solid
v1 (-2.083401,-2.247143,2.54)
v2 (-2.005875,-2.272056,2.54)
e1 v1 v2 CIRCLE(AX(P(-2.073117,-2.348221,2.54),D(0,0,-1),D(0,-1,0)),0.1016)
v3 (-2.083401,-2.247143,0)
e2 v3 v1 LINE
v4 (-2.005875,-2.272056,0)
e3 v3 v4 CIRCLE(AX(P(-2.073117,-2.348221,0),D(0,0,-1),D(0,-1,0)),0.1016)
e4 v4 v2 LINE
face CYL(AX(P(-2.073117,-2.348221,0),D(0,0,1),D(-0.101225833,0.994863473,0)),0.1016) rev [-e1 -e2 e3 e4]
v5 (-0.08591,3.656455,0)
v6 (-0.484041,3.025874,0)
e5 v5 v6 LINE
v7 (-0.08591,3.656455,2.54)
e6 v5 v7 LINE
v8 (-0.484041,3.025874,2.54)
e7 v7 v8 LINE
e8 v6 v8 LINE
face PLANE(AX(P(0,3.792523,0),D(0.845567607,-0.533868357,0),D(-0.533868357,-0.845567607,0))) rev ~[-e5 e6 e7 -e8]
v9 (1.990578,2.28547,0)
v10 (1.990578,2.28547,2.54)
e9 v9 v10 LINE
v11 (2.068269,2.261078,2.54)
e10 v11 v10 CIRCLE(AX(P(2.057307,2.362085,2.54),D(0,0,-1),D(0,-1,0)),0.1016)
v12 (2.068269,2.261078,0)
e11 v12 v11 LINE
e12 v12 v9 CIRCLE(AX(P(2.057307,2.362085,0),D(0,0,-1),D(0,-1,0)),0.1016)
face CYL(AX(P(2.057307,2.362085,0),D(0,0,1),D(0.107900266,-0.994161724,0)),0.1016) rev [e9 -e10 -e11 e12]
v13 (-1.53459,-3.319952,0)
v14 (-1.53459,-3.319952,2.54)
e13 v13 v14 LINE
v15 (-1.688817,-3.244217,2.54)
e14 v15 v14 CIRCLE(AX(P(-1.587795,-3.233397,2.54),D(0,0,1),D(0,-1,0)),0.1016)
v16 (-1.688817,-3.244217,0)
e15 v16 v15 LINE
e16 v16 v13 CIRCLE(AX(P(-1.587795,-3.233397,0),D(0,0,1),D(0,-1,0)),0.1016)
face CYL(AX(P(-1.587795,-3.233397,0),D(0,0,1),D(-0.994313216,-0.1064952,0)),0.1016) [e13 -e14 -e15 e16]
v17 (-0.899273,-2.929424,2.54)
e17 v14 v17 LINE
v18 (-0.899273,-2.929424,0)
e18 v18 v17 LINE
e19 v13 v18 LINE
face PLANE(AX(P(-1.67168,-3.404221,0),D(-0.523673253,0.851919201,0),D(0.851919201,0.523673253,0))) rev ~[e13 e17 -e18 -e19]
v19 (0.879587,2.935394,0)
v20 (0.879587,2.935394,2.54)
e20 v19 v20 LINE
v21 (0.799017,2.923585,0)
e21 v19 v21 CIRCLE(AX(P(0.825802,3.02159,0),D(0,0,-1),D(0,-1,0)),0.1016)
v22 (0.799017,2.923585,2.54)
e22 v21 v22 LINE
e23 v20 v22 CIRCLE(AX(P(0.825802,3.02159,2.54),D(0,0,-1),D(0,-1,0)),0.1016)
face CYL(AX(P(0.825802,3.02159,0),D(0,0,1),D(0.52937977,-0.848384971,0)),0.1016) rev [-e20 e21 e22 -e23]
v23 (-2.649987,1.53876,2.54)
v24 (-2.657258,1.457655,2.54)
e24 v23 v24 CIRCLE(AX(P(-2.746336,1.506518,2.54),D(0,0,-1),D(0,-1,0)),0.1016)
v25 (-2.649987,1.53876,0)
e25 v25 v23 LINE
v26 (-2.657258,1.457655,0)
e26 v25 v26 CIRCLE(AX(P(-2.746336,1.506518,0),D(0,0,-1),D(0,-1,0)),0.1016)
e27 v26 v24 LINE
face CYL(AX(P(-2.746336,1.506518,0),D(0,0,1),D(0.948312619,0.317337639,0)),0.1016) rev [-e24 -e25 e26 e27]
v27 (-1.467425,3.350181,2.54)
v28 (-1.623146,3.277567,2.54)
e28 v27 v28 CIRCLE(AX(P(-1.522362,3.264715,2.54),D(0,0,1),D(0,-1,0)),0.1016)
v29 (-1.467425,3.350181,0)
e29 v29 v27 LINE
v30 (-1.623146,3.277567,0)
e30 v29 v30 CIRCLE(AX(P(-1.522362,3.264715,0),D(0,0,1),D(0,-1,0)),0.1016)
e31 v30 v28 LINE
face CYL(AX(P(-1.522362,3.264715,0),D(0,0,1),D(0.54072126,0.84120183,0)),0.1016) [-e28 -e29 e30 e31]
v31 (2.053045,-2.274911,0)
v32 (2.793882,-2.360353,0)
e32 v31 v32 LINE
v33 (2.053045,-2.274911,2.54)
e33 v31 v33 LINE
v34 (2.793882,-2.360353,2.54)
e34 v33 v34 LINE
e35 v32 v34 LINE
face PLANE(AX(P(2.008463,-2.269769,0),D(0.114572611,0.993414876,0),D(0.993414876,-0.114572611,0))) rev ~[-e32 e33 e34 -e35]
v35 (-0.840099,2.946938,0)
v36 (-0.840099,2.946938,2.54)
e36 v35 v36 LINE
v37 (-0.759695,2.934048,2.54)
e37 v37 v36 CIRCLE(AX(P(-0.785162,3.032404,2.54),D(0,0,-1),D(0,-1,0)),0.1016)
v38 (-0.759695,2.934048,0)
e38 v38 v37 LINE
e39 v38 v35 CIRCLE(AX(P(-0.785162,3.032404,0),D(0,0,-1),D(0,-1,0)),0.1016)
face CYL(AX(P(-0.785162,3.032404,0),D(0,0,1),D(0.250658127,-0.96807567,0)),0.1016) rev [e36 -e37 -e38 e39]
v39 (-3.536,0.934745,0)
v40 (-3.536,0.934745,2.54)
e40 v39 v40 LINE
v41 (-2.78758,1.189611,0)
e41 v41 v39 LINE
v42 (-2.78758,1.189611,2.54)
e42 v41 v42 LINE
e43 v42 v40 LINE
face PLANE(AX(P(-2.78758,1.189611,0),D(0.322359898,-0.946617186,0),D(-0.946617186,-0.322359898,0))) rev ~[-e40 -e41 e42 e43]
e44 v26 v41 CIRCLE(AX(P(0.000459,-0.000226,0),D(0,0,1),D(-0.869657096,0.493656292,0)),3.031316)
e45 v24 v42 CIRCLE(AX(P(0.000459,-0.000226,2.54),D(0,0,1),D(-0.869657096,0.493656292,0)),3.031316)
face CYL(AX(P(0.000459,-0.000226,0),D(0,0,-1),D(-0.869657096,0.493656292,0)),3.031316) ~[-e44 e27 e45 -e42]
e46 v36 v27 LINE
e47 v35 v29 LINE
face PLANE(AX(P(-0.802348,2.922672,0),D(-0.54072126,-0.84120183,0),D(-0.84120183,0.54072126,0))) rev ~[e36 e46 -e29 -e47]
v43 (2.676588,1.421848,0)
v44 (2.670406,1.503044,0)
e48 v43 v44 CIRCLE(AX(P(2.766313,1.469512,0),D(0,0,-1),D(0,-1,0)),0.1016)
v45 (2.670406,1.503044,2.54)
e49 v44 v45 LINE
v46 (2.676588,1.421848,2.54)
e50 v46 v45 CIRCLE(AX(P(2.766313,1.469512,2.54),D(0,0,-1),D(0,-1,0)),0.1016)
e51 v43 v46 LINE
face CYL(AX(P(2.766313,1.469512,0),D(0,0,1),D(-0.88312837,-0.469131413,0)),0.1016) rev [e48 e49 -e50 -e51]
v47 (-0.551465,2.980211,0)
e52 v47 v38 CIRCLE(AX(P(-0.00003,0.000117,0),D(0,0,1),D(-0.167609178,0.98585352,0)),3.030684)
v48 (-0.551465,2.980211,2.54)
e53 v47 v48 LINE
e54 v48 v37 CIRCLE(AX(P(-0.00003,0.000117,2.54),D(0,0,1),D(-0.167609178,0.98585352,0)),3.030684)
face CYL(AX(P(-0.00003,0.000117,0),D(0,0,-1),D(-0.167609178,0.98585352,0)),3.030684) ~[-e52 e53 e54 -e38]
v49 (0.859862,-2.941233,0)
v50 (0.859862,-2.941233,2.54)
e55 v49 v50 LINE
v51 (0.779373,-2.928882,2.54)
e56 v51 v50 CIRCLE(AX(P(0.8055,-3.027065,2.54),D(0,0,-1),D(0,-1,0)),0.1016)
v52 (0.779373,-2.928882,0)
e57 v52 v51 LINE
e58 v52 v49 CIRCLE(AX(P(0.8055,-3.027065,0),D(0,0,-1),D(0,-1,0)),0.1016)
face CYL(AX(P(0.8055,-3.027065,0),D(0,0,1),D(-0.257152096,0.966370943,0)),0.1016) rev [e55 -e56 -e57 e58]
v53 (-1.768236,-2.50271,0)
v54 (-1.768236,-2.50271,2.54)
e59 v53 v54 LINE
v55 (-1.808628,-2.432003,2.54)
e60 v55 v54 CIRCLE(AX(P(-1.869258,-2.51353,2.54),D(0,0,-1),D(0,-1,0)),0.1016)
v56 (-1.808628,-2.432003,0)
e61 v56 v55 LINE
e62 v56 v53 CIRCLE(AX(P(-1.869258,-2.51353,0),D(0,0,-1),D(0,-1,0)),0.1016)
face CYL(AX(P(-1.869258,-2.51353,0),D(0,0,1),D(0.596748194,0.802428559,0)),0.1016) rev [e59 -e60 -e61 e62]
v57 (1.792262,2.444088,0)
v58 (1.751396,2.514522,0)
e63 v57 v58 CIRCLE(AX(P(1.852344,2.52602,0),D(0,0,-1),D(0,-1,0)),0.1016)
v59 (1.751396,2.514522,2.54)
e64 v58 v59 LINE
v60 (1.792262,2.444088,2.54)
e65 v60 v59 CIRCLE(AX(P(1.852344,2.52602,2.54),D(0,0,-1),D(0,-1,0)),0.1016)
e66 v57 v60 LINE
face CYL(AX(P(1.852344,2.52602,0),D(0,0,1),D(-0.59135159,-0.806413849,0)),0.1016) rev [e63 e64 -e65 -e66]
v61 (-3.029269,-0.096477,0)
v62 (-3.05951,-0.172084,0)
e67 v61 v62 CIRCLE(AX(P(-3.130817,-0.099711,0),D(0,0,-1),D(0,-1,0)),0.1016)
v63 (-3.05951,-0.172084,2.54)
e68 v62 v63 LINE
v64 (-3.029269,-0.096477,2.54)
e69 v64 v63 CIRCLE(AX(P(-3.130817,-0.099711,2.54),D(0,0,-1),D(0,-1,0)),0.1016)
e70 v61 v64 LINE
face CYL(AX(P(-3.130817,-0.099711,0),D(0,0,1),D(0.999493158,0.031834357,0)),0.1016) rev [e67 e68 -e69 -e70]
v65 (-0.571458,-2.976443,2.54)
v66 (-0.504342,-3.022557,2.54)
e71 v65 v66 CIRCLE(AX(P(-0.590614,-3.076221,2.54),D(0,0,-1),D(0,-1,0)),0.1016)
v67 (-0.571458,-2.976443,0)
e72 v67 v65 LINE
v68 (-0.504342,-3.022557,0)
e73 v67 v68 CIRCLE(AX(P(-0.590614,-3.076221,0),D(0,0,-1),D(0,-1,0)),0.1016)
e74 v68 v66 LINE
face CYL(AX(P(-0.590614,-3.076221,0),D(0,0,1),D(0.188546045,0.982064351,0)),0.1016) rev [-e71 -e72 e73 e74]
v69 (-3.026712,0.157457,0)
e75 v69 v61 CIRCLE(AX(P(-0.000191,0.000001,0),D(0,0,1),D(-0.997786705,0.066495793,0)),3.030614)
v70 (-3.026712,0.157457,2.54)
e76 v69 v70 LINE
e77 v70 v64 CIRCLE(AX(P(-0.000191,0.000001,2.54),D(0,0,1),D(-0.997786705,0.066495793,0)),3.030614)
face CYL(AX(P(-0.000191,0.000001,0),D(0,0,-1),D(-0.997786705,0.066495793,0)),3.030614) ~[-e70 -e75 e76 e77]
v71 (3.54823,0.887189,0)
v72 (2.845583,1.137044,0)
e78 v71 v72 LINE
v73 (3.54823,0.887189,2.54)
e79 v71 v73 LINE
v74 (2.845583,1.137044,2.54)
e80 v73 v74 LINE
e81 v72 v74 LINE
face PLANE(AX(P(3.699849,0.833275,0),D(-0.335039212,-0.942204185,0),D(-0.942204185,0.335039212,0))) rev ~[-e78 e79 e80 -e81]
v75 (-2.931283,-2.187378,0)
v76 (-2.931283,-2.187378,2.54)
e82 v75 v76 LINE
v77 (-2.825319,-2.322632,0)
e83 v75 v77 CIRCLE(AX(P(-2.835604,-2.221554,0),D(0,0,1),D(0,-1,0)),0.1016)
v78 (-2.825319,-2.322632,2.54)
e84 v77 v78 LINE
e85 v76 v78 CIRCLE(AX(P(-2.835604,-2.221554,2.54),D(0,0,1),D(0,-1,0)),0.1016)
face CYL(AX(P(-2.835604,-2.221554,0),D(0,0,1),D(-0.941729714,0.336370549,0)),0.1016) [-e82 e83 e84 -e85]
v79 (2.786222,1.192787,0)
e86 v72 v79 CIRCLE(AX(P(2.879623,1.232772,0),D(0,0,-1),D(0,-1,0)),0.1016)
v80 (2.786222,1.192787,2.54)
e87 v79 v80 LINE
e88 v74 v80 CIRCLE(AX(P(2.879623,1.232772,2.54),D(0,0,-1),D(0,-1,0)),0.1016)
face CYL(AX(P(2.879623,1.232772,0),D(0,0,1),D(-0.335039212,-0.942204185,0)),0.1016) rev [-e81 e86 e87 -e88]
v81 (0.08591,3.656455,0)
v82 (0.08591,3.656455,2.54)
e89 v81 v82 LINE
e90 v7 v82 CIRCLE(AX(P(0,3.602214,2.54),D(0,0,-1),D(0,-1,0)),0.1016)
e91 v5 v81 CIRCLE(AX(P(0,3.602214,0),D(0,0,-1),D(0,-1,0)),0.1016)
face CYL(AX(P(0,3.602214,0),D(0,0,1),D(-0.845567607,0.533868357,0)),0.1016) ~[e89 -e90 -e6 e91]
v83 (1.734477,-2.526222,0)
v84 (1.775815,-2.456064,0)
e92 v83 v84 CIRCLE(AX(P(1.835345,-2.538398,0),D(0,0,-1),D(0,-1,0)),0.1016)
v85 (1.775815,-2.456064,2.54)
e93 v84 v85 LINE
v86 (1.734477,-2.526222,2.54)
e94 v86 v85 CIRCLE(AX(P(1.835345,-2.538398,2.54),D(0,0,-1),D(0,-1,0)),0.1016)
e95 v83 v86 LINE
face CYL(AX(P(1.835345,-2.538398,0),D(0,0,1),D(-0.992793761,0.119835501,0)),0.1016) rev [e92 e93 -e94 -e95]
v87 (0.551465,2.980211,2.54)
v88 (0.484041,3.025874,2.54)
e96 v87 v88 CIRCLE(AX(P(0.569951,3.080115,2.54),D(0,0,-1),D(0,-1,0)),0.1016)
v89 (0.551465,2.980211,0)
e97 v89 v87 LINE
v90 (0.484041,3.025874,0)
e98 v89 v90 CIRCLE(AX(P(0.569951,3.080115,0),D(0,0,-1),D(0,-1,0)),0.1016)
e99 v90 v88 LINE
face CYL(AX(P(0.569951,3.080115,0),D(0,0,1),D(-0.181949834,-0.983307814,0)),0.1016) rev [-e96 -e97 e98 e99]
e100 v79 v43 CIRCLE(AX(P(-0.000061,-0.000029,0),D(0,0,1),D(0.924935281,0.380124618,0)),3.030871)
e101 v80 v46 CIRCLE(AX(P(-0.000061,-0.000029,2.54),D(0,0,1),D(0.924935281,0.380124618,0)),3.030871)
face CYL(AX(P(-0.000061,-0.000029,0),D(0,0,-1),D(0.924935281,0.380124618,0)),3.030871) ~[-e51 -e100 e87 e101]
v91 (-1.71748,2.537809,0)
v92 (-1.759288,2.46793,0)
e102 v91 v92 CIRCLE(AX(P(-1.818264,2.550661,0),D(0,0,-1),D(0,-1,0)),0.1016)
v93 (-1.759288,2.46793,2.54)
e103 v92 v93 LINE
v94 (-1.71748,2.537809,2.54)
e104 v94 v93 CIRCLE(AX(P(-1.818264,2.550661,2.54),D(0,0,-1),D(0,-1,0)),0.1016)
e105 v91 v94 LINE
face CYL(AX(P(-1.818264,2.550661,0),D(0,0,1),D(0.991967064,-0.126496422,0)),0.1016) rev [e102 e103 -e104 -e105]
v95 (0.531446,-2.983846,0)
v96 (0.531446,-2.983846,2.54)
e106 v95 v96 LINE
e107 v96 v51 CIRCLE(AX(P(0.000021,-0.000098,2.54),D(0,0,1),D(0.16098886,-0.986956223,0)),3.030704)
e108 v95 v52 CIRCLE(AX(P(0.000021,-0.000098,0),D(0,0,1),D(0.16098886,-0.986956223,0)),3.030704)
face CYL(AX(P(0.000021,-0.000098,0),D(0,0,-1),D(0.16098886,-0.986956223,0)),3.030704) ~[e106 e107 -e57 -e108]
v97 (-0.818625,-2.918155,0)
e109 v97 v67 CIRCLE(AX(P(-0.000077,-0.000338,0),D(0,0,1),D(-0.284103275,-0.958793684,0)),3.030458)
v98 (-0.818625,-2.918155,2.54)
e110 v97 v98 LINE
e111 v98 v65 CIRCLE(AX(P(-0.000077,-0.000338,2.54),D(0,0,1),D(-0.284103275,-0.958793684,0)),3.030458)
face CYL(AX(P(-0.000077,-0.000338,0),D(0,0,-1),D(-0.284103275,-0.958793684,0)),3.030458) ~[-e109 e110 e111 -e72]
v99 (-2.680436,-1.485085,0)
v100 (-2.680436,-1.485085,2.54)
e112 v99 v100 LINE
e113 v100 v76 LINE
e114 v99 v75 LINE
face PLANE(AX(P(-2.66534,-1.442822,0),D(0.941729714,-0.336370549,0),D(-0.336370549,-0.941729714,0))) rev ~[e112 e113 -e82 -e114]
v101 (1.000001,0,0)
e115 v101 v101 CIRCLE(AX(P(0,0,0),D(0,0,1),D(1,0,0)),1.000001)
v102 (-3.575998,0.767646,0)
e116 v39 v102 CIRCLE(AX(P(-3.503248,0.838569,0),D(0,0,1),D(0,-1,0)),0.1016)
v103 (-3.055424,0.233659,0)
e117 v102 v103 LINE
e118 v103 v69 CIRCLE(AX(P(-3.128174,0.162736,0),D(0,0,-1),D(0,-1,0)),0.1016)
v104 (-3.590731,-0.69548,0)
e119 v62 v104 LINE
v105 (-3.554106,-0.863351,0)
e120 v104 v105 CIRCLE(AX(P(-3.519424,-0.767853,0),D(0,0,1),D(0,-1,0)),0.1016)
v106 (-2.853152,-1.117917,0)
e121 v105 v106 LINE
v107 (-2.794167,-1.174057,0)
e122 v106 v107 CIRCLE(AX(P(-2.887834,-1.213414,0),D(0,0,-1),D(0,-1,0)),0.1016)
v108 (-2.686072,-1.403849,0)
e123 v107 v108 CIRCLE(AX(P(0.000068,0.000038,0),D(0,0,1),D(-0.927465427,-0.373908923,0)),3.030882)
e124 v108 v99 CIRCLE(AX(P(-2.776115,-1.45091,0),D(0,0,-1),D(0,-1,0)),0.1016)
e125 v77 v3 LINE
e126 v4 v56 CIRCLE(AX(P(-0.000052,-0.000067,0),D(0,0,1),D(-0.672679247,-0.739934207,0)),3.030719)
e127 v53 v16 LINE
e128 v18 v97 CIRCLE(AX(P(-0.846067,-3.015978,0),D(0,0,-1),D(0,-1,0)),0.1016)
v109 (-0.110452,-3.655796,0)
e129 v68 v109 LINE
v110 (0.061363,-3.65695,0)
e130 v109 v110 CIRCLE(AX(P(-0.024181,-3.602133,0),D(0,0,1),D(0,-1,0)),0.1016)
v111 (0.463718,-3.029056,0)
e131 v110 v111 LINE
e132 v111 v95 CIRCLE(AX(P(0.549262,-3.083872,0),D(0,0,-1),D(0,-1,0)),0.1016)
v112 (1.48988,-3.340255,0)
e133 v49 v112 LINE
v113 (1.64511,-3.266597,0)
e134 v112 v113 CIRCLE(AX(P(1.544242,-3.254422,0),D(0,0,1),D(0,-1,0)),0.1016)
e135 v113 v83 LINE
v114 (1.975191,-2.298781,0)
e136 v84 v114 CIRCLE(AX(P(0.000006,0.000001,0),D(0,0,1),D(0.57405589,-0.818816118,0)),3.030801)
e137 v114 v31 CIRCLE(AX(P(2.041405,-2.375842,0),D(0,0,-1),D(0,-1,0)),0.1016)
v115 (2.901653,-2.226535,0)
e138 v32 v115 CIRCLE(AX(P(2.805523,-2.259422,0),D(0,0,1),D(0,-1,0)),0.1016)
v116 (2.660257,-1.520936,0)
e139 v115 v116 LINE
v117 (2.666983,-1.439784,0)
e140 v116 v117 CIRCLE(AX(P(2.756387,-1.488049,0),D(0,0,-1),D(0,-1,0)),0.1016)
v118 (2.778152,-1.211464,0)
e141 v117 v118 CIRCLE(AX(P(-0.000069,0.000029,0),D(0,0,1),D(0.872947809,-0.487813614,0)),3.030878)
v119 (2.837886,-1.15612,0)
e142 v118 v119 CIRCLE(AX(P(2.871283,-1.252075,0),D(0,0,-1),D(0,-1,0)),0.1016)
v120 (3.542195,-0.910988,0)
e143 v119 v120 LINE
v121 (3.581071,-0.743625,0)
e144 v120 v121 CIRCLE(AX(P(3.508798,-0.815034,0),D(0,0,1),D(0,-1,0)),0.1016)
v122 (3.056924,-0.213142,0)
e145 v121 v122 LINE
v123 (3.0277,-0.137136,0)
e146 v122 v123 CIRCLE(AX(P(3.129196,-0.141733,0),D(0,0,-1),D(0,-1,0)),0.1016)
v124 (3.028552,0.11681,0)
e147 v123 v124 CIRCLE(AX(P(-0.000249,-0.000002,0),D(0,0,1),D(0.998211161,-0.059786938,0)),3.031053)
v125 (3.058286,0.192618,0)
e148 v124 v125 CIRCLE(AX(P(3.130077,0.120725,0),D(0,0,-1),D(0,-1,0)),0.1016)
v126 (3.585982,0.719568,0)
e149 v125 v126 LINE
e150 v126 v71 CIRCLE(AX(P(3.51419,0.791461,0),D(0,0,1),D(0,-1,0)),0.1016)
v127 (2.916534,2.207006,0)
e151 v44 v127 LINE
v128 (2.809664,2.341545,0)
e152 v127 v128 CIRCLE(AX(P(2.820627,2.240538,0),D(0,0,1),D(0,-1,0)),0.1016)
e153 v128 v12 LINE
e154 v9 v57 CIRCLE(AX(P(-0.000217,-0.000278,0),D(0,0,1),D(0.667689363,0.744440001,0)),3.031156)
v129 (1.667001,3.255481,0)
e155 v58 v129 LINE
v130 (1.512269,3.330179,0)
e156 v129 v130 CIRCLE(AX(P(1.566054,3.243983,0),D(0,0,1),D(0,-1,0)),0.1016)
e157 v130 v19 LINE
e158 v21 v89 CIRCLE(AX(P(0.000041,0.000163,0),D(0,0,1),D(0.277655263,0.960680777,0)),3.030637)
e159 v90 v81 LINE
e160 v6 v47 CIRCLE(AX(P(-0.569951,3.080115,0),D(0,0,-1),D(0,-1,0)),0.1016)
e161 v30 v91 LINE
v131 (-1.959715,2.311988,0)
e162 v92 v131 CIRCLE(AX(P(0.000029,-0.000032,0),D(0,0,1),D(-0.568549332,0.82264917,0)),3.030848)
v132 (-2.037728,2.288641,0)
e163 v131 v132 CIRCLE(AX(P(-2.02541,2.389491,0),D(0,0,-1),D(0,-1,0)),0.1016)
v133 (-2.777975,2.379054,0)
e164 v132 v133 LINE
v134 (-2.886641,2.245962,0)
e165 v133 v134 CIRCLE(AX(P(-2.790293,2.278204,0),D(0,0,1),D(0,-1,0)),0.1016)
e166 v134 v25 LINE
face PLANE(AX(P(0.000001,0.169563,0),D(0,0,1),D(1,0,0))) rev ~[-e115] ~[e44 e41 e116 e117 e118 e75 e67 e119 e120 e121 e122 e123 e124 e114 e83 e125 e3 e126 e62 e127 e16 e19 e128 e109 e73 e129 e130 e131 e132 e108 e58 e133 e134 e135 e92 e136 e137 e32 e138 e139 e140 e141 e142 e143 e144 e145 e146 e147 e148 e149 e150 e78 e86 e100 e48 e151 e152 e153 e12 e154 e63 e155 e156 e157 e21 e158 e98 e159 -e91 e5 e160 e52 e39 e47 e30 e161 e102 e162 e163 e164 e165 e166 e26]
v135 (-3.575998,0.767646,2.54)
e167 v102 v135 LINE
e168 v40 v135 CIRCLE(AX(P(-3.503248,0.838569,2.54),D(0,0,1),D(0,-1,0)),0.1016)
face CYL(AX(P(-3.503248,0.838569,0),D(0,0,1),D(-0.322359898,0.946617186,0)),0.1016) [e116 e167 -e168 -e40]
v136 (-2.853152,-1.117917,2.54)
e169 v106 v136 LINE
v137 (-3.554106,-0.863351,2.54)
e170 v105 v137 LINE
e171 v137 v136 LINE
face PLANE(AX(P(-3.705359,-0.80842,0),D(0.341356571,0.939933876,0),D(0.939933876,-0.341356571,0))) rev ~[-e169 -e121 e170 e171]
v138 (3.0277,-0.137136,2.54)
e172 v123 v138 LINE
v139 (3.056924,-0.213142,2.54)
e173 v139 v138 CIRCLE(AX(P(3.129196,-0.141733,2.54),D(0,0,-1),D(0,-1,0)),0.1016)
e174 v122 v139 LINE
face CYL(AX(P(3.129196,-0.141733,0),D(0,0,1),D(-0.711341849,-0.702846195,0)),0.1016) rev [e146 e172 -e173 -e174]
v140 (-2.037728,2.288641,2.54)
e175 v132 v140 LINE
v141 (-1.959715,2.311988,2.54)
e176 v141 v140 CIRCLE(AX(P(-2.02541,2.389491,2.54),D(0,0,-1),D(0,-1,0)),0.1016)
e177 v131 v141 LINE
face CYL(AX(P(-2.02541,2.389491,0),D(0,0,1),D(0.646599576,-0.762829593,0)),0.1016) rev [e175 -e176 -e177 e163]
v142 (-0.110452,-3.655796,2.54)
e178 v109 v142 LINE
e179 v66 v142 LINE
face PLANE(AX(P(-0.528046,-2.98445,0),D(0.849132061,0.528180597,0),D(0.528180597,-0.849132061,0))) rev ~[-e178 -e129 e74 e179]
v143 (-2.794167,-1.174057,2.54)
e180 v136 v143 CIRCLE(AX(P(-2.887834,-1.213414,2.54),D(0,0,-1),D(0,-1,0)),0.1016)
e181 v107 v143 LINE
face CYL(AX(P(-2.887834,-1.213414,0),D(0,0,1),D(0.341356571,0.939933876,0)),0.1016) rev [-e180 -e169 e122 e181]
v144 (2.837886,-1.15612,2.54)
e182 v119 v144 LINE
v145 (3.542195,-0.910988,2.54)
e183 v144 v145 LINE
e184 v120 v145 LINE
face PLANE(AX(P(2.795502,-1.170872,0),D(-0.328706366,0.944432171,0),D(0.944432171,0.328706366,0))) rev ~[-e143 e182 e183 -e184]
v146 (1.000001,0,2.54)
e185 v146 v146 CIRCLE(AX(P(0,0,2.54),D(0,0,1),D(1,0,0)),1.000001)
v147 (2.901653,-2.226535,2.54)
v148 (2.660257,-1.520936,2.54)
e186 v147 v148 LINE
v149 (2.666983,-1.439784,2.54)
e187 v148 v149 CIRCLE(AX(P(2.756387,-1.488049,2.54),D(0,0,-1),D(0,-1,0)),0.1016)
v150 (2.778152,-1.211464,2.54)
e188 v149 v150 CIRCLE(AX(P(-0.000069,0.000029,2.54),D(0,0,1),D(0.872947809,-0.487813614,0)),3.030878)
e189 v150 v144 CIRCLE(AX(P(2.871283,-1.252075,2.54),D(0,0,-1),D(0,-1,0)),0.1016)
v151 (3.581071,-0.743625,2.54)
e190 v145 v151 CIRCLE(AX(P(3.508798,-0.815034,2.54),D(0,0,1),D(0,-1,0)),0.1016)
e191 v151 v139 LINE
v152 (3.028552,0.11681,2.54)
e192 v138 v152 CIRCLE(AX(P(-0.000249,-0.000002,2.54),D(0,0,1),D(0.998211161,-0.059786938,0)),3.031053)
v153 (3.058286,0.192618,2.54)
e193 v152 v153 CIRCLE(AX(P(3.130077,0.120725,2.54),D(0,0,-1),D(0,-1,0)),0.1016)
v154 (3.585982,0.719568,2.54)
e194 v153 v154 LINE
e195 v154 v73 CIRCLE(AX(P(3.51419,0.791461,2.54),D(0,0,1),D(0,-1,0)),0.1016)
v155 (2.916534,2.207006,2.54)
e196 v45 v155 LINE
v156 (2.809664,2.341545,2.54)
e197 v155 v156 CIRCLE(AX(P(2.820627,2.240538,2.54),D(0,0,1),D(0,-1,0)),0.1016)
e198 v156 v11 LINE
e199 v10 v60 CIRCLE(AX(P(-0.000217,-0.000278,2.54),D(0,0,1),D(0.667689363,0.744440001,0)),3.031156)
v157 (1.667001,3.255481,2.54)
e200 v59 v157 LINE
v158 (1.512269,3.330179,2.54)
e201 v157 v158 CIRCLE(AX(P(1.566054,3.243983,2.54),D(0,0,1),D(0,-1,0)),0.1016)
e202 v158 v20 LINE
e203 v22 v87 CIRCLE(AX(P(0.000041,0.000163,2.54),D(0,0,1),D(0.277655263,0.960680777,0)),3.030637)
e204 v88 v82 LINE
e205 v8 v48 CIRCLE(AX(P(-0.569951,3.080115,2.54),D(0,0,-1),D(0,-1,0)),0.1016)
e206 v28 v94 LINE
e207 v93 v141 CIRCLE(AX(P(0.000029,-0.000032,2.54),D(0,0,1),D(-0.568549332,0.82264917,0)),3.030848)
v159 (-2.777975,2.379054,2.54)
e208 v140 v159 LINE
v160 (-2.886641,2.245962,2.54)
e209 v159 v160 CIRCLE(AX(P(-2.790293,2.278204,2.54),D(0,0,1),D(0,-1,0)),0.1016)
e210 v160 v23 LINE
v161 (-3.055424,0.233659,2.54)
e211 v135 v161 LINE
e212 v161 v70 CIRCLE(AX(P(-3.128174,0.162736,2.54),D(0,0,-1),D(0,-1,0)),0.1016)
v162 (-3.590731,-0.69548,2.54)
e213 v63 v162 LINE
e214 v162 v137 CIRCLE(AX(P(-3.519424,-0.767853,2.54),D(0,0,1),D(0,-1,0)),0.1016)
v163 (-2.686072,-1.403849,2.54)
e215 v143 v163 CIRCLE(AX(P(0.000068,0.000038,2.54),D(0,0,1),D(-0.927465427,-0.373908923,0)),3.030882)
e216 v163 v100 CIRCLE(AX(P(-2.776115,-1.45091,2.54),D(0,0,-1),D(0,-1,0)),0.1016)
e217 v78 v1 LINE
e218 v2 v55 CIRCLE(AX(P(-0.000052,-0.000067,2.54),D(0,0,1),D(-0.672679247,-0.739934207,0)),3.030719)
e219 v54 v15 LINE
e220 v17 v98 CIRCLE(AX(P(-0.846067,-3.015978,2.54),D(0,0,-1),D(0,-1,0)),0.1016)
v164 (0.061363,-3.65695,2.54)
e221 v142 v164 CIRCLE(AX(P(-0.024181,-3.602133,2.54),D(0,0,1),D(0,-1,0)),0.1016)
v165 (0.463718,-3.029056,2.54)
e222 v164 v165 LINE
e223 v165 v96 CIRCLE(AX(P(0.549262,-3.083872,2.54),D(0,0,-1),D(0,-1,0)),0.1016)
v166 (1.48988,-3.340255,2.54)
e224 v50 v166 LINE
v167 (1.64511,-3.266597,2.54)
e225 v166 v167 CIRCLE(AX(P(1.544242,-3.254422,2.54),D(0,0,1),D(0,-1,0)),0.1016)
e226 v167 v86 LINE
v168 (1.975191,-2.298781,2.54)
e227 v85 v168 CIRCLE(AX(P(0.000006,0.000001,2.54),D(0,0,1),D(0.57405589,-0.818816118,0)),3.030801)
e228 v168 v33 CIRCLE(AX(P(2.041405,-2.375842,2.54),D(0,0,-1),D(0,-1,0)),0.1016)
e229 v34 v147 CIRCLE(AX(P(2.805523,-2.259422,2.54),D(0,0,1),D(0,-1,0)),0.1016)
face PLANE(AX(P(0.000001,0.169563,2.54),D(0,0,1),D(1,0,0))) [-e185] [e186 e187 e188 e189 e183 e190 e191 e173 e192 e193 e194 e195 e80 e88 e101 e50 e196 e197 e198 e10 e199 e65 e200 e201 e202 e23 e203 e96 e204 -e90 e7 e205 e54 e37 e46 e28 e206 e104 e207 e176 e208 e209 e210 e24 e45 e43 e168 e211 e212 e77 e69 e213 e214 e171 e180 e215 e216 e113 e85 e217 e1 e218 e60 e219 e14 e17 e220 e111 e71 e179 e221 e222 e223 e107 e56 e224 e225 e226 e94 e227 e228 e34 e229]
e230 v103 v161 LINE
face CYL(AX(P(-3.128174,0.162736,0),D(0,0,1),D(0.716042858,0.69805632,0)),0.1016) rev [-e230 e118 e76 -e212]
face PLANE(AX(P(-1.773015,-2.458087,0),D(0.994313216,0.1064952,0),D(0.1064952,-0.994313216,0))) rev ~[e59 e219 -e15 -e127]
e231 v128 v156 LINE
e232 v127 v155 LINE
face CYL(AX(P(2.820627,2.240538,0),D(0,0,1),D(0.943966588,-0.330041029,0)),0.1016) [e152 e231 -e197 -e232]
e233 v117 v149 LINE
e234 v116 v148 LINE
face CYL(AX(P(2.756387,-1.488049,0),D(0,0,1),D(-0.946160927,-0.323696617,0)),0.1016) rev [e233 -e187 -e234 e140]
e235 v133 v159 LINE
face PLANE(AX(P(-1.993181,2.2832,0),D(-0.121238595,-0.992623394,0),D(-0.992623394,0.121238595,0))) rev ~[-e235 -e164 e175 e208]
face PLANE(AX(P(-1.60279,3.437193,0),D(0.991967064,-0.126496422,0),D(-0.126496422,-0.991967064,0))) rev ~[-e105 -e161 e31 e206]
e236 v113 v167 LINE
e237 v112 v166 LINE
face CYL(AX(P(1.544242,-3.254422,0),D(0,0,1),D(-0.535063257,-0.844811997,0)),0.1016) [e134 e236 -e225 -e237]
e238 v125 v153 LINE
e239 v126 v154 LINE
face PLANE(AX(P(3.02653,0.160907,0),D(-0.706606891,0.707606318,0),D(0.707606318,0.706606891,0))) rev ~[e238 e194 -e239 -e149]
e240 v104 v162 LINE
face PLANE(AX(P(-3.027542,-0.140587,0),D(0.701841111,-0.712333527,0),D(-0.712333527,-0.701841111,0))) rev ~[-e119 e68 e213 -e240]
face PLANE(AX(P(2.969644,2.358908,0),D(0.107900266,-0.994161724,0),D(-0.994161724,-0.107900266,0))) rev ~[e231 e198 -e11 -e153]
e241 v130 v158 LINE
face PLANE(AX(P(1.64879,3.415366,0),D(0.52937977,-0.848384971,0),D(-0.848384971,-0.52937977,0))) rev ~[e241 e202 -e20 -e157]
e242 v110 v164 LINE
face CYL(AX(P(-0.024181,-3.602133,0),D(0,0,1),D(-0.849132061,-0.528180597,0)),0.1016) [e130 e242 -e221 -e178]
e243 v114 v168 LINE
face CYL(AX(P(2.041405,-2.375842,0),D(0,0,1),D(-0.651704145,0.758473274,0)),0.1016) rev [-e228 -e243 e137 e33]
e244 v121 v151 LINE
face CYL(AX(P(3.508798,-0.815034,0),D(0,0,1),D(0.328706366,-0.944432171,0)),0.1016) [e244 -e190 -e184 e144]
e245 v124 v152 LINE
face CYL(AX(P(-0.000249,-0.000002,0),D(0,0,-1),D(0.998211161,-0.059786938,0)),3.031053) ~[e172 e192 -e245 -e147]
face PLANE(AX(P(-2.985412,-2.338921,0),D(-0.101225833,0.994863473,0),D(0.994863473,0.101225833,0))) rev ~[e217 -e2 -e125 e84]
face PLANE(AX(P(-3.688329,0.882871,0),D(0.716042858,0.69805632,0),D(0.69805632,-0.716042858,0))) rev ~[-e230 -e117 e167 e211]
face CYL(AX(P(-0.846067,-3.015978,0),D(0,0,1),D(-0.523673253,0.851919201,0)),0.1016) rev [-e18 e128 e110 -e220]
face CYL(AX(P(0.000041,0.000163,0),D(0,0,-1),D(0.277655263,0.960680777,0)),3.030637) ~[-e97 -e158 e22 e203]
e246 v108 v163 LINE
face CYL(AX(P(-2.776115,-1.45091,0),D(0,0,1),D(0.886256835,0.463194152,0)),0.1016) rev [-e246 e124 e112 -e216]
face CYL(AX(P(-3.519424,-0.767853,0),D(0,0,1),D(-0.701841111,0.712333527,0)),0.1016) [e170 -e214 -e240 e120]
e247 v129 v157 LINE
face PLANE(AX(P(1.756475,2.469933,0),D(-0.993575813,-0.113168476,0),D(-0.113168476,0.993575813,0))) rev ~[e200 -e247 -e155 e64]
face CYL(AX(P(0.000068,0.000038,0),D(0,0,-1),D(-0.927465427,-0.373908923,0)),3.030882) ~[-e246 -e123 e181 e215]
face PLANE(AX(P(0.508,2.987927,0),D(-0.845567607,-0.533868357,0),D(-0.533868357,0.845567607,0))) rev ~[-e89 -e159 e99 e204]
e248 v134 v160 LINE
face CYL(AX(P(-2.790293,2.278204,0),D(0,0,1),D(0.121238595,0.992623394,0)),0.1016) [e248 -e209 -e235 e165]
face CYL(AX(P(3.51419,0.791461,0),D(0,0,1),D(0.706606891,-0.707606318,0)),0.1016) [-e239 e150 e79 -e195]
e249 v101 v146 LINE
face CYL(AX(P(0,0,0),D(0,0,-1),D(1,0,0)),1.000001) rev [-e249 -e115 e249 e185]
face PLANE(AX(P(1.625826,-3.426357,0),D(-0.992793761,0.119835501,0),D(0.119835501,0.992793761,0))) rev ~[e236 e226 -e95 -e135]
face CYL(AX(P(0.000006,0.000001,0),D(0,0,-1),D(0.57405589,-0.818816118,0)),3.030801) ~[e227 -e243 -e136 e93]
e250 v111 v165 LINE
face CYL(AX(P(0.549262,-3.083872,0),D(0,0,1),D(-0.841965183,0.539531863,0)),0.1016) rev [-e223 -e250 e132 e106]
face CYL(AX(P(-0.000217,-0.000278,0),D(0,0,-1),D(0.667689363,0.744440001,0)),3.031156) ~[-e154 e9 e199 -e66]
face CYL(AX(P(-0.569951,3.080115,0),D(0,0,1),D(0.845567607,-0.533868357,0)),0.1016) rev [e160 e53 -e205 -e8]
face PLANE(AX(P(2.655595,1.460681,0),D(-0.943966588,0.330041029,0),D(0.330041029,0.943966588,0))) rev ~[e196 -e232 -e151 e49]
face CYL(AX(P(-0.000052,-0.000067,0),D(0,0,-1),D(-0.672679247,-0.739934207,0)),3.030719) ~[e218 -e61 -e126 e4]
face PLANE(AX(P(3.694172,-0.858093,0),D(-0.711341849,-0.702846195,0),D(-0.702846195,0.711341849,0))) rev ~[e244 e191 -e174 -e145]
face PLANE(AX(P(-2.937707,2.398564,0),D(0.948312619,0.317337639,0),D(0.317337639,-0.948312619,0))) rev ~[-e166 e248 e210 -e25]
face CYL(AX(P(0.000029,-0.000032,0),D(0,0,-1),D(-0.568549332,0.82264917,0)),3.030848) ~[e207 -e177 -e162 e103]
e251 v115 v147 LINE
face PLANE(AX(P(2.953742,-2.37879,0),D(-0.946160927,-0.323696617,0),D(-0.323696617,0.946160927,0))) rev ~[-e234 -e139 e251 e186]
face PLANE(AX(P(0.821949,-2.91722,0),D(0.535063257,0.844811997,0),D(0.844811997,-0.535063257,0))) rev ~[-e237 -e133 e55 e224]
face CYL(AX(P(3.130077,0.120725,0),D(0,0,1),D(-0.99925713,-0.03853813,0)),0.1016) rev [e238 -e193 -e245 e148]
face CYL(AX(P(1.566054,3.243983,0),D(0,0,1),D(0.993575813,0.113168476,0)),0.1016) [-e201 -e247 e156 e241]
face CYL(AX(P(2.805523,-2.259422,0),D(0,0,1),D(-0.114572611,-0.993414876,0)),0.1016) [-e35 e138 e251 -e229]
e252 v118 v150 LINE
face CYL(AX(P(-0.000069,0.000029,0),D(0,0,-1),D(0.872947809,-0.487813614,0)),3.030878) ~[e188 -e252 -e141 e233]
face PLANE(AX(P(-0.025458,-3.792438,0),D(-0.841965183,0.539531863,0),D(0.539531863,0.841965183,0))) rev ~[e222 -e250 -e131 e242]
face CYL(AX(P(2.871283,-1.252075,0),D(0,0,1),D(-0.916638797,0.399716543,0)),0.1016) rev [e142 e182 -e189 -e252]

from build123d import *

# Parameters (mm, degrees)
F0_R     = 1.000001
F1_DEPTH = 2.54
F2_R     = 0.1016


with BuildPart() as f1:
    # F0 (on Top) → F1 (new body)
    with BuildSketch(Plane.XY):
        with BuildLine():
            Line((0, 3.792523), (-0.508, 2.987927))
            ThreePointArc((-0.508, 2.987927), (-0.655986, 2.958962), (-0.802348, 2.922672))
            ThreePointArc((-0.802348, 2.922672), (-1.280873, 2.746841), (-1.723157, 2.493292))
            ThreePointArc((-1.723157, 2.493292), (-1.861136, 2.392059), (-1.993181, 2.2832))
            ThreePointArc((-1.993181, 2.2832), (-2.347676, 1.916818), (-2.635746, 1.496202))
            ThreePointArc((-2.635746, 1.496202), (-2.715992, 1.34505), (-2.78758, 1.189611))
            ThreePointArc((-2.78758, 1.189611), (-2.947537, 0.705549), (-3.024097, 0.201524))
            ThreePointArc((-3.024097, 0.201524), (-3.030651, 0.030517), (-3.027542, -0.140587))
            ThreePointArc((-3.027542, -0.140587), (-2.961147, -0.646051), (-2.81097, -1.133236))
            ThreePointArc((-2.81097, -1.133236), (-2.742527, -1.290085), (-2.66534, -1.442822))
            ThreePointArc((-2.66534, -1.442822), (-2.385799, -1.869154), (-2.038754, -2.2426))
            ThreePointArc((-2.038754, -2.2426), (-1.908928, -2.354096), (-1.773015, -2.458087))
            ThreePointArc((-1.773015, -2.458087), (-1.335927, -2.720491), (-0.86104, -2.905922))
            ThreePointArc((-0.86104, -2.905922), (-0.695652, -2.949889), (-0.528046, -2.98445))
            ThreePointArc((-0.528046, -2.98445), (-0.020345, -3.030736), (0.487931, -2.99127))
            ThreePointArc((0.487931, -2.99127), (0.655986, -2.958962), (0.821949, -2.91722))
            ThreePointArc((0.821949, -2.91722), (1.299283, -2.738181), (1.739855, -2.481668))
            ThreePointArc((1.739855, -2.481668), (1.877151, -2.379512), (2.008463, -2.269769))
            ThreePointArc((2.008463, -2.269769), (2.36049, -1.901016), (2.64573, -1.478475))
            ThreePointArc((2.64573, -1.478475), (2.72496, -1.326788), (2.795502, -1.170872))
            ThreePointArc((2.795502, -1.170872), (2.952207, -0.685747), (3.025382, -0.181219))
            ThreePointArc((3.025382, -0.181219), (3.030787, -0.010173), (3.02653, 0.160907))
            ThreePointArc((3.02653, 0.160907), (2.956744, 0.665914), (2.803299, 1.15208))
            ThreePointArc((2.803299, 1.15208), (2.733805, 1.308466), (2.655595, 1.460681))
            ThreePointArc((2.655595, 1.460681), (2.373198, 1.885127), (2.023654, 2.256236))
            ThreePointArc((2.023654, 2.256236), (1.893082, 2.366857), (1.756475, 2.469933))
            ThreePointArc((1.756475, 2.469933), (1.317635, 2.729398), (0.841513, 2.911637))
            ThreePointArc((0.841513, 2.911637), (0.675834, 2.954492), (0.508, 2.987927))
            Line((0.508, 2.987927), (0, 3.792523))
        make_face()
        Circle(F0_R, mode=Mode.SUBTRACT)
        with BuildLine():
            Line((1.64879, 3.415366), (0.841513, 2.911637))
            ThreePointArc((0.841513, 2.911637), (1.317635, 2.729398), (1.756475, 2.469933))
            Line((1.756475, 2.469933), (1.64879, 3.415366))
        make_face()
        with BuildLine():
            ThreePointArc((-1.723157, 2.493292), (-1.280873, 2.746841), (-0.802348, 2.922672))
            Line((-0.802348, 2.922672), (-1.60279, 3.437193))
            Line((-1.60279, 3.437193), (-1.723157, 2.493292))
        make_face()
        with BuildLine():
            ThreePointArc((-2.635746, 1.496202), (-2.347676, 1.916818), (-1.993181, 2.2832))
            Line((-1.993181, 2.2832), (-2.937707, 2.398564))
            Line((-2.937707, 2.398564), (-2.635746, 1.496202))
        make_face()
        with BuildLine():
            ThreePointArc((-3.024097, 0.201524), (-2.947537, 0.705549), (-2.78758, 1.189611))
            Line((-2.78758, 1.189611), (-3.688329, 0.882871))
            Line((-3.688329, 0.882871), (-3.024097, 0.201524))
        make_face()
        with BuildLine():
            ThreePointArc((-2.81097, -1.133236), (-2.961147, -0.646051), (-3.027542, -0.140587))
            Line((-3.027542, -0.140587), (-3.705359, -0.80842))
            Line((-3.705359, -0.80842), (-2.81097, -1.133236))
        make_face()
        with BuildLine():
            ThreePointArc((-2.038754, -2.2426), (-2.385799, -1.869154), (-2.66534, -1.442822))
            Line((-2.66534, -1.442822), (-2.985412, -2.338921))
            Line((-2.985412, -2.338921), (-2.038754, -2.2426))
        make_face()
        with BuildLine():
            ThreePointArc((-0.86104, -2.905922), (-1.335927, -2.720491), (-1.773015, -2.458087))
            Line((-1.773015, -2.458087), (-1.67168, -3.404221))
            Line((-1.67168, -3.404221), (-0.86104, -2.905922))
        make_face()
        with BuildLine():
            ThreePointArc((0.487931, -2.99127), (-0.020345, -3.030736), (-0.528046, -2.98445))
            Line((-0.528046, -2.98445), (-0.025458, -3.792438))
            Line((-0.025458, -3.792438), (0.487931, -2.99127))
        make_face()
        with BuildLine():
            Line((1.625826, -3.426357), (1.739855, -2.481668))
            ThreePointArc((1.739855, -2.481668), (1.299283, -2.738181), (0.821949, -2.91722))
            Line((0.821949, -2.91722), (1.625826, -3.426357))
        make_face()
        with BuildLine():
            Line((2.953742, -2.37879), (2.64573, -1.478475))
            ThreePointArc((2.64573, -1.478475), (2.36049, -1.901016), (2.008463, -2.269769))
            Line((2.008463, -2.269769), (2.953742, -2.37879))
        make_face()
        with BuildLine():
            Line((3.694172, -0.858093), (3.025382, -0.181219))
            ThreePointArc((3.025382, -0.181219), (2.952207, -0.685747), (2.795502, -1.170872))
            Line((2.795502, -1.170872), (3.694172, -0.858093))
        make_face()
        with BuildLine():
            Line((3.699849, 0.833275), (2.803299, 1.15208))
            ThreePointArc((2.803299, 1.15208), (2.956744, 0.665914), (3.02653, 0.160907))
            Line((3.02653, 0.160907), (3.699849, 0.833275))
        make_face()
        with BuildLine():
            Line((2.969644, 2.358908), (2.023654, 2.256236))
            ThreePointArc((2.023654, 2.256236), (2.373198, 1.885127), (2.655595, 1.460681))
            Line((2.655595, 1.460681), (2.969644, 2.358908))
        make_face()
    extrude(amount=F1_DEPTH)

    # F2
    f2_edges = [f1.edges().sort_by_distance(p)[0] for p in [
        (0, 3.792523, 1.27),
        (-1.60279, 3.437193, 1.27),
        (-2.937707, 2.398564, 1.27),
        (-3.688329, 0.882871, 1.27),
        (-3.705359, -0.80842, 1.27),
        (-2.985412, -2.338921, 1.27),
        (-1.67168, -3.404221, 1.27),
        (-0.025458, -3.792438, 1.27),
        (1.625826, -3.426357, 1.27),
        (2.953742, -2.37879, 1.27),
        (3.694172, -0.858093, 1.27),
        (3.699849, 0.833275, 1.27),
        (2.969644, 2.358908, 1.27),
        (1.64879, 3.415366, 1.27),
        (0.508, 2.987927, 1.27),
        (0.841513, 2.911637, 1.27),
        (1.756475, 2.469933, 1.27),
        (2.023654, 2.256236, 1.27),
        (2.655595, 1.460681, 1.27),
        (2.803299, 1.15208, 1.27),
        (3.02653, 0.160907, 1.27),
        (3.025382, -0.181219, 1.27),
        (2.795502, -1.170872, 1.27),
        (2.64573, -1.478475, 1.27),
        (2.008463, -2.269769, 1.27),
        (1.739855, -2.481668, 1.27),
        (0.821949, -2.91722, 1.27),
        (0.487931, -2.99127, 1.27),
        (-0.528046, -2.98445, 1.27),
        (-0.86104, -2.905922, 1.27),
        (-1.773015, -2.458087, 1.27),
        (-2.038754, -2.2426, 1.27),
        (-2.66534, -1.442822, 1.27),
        (-2.81097, -1.133236, 1.27),
        (-3.027542, -0.140587, 1.27),
        (-3.024097, 0.201524, 1.27),
        (-2.635746, 1.496202, 1.27),
        (-1.723157, 2.493292, 1.27),
        (-1.993181, 2.2832, 1.27),
        (-0.802348, 2.922672, 1.27),
        (-0.508, 2.987927, 1.27),
    ]]
    fillet(f2_edges, radius=F2_R)


solid = f1.part
